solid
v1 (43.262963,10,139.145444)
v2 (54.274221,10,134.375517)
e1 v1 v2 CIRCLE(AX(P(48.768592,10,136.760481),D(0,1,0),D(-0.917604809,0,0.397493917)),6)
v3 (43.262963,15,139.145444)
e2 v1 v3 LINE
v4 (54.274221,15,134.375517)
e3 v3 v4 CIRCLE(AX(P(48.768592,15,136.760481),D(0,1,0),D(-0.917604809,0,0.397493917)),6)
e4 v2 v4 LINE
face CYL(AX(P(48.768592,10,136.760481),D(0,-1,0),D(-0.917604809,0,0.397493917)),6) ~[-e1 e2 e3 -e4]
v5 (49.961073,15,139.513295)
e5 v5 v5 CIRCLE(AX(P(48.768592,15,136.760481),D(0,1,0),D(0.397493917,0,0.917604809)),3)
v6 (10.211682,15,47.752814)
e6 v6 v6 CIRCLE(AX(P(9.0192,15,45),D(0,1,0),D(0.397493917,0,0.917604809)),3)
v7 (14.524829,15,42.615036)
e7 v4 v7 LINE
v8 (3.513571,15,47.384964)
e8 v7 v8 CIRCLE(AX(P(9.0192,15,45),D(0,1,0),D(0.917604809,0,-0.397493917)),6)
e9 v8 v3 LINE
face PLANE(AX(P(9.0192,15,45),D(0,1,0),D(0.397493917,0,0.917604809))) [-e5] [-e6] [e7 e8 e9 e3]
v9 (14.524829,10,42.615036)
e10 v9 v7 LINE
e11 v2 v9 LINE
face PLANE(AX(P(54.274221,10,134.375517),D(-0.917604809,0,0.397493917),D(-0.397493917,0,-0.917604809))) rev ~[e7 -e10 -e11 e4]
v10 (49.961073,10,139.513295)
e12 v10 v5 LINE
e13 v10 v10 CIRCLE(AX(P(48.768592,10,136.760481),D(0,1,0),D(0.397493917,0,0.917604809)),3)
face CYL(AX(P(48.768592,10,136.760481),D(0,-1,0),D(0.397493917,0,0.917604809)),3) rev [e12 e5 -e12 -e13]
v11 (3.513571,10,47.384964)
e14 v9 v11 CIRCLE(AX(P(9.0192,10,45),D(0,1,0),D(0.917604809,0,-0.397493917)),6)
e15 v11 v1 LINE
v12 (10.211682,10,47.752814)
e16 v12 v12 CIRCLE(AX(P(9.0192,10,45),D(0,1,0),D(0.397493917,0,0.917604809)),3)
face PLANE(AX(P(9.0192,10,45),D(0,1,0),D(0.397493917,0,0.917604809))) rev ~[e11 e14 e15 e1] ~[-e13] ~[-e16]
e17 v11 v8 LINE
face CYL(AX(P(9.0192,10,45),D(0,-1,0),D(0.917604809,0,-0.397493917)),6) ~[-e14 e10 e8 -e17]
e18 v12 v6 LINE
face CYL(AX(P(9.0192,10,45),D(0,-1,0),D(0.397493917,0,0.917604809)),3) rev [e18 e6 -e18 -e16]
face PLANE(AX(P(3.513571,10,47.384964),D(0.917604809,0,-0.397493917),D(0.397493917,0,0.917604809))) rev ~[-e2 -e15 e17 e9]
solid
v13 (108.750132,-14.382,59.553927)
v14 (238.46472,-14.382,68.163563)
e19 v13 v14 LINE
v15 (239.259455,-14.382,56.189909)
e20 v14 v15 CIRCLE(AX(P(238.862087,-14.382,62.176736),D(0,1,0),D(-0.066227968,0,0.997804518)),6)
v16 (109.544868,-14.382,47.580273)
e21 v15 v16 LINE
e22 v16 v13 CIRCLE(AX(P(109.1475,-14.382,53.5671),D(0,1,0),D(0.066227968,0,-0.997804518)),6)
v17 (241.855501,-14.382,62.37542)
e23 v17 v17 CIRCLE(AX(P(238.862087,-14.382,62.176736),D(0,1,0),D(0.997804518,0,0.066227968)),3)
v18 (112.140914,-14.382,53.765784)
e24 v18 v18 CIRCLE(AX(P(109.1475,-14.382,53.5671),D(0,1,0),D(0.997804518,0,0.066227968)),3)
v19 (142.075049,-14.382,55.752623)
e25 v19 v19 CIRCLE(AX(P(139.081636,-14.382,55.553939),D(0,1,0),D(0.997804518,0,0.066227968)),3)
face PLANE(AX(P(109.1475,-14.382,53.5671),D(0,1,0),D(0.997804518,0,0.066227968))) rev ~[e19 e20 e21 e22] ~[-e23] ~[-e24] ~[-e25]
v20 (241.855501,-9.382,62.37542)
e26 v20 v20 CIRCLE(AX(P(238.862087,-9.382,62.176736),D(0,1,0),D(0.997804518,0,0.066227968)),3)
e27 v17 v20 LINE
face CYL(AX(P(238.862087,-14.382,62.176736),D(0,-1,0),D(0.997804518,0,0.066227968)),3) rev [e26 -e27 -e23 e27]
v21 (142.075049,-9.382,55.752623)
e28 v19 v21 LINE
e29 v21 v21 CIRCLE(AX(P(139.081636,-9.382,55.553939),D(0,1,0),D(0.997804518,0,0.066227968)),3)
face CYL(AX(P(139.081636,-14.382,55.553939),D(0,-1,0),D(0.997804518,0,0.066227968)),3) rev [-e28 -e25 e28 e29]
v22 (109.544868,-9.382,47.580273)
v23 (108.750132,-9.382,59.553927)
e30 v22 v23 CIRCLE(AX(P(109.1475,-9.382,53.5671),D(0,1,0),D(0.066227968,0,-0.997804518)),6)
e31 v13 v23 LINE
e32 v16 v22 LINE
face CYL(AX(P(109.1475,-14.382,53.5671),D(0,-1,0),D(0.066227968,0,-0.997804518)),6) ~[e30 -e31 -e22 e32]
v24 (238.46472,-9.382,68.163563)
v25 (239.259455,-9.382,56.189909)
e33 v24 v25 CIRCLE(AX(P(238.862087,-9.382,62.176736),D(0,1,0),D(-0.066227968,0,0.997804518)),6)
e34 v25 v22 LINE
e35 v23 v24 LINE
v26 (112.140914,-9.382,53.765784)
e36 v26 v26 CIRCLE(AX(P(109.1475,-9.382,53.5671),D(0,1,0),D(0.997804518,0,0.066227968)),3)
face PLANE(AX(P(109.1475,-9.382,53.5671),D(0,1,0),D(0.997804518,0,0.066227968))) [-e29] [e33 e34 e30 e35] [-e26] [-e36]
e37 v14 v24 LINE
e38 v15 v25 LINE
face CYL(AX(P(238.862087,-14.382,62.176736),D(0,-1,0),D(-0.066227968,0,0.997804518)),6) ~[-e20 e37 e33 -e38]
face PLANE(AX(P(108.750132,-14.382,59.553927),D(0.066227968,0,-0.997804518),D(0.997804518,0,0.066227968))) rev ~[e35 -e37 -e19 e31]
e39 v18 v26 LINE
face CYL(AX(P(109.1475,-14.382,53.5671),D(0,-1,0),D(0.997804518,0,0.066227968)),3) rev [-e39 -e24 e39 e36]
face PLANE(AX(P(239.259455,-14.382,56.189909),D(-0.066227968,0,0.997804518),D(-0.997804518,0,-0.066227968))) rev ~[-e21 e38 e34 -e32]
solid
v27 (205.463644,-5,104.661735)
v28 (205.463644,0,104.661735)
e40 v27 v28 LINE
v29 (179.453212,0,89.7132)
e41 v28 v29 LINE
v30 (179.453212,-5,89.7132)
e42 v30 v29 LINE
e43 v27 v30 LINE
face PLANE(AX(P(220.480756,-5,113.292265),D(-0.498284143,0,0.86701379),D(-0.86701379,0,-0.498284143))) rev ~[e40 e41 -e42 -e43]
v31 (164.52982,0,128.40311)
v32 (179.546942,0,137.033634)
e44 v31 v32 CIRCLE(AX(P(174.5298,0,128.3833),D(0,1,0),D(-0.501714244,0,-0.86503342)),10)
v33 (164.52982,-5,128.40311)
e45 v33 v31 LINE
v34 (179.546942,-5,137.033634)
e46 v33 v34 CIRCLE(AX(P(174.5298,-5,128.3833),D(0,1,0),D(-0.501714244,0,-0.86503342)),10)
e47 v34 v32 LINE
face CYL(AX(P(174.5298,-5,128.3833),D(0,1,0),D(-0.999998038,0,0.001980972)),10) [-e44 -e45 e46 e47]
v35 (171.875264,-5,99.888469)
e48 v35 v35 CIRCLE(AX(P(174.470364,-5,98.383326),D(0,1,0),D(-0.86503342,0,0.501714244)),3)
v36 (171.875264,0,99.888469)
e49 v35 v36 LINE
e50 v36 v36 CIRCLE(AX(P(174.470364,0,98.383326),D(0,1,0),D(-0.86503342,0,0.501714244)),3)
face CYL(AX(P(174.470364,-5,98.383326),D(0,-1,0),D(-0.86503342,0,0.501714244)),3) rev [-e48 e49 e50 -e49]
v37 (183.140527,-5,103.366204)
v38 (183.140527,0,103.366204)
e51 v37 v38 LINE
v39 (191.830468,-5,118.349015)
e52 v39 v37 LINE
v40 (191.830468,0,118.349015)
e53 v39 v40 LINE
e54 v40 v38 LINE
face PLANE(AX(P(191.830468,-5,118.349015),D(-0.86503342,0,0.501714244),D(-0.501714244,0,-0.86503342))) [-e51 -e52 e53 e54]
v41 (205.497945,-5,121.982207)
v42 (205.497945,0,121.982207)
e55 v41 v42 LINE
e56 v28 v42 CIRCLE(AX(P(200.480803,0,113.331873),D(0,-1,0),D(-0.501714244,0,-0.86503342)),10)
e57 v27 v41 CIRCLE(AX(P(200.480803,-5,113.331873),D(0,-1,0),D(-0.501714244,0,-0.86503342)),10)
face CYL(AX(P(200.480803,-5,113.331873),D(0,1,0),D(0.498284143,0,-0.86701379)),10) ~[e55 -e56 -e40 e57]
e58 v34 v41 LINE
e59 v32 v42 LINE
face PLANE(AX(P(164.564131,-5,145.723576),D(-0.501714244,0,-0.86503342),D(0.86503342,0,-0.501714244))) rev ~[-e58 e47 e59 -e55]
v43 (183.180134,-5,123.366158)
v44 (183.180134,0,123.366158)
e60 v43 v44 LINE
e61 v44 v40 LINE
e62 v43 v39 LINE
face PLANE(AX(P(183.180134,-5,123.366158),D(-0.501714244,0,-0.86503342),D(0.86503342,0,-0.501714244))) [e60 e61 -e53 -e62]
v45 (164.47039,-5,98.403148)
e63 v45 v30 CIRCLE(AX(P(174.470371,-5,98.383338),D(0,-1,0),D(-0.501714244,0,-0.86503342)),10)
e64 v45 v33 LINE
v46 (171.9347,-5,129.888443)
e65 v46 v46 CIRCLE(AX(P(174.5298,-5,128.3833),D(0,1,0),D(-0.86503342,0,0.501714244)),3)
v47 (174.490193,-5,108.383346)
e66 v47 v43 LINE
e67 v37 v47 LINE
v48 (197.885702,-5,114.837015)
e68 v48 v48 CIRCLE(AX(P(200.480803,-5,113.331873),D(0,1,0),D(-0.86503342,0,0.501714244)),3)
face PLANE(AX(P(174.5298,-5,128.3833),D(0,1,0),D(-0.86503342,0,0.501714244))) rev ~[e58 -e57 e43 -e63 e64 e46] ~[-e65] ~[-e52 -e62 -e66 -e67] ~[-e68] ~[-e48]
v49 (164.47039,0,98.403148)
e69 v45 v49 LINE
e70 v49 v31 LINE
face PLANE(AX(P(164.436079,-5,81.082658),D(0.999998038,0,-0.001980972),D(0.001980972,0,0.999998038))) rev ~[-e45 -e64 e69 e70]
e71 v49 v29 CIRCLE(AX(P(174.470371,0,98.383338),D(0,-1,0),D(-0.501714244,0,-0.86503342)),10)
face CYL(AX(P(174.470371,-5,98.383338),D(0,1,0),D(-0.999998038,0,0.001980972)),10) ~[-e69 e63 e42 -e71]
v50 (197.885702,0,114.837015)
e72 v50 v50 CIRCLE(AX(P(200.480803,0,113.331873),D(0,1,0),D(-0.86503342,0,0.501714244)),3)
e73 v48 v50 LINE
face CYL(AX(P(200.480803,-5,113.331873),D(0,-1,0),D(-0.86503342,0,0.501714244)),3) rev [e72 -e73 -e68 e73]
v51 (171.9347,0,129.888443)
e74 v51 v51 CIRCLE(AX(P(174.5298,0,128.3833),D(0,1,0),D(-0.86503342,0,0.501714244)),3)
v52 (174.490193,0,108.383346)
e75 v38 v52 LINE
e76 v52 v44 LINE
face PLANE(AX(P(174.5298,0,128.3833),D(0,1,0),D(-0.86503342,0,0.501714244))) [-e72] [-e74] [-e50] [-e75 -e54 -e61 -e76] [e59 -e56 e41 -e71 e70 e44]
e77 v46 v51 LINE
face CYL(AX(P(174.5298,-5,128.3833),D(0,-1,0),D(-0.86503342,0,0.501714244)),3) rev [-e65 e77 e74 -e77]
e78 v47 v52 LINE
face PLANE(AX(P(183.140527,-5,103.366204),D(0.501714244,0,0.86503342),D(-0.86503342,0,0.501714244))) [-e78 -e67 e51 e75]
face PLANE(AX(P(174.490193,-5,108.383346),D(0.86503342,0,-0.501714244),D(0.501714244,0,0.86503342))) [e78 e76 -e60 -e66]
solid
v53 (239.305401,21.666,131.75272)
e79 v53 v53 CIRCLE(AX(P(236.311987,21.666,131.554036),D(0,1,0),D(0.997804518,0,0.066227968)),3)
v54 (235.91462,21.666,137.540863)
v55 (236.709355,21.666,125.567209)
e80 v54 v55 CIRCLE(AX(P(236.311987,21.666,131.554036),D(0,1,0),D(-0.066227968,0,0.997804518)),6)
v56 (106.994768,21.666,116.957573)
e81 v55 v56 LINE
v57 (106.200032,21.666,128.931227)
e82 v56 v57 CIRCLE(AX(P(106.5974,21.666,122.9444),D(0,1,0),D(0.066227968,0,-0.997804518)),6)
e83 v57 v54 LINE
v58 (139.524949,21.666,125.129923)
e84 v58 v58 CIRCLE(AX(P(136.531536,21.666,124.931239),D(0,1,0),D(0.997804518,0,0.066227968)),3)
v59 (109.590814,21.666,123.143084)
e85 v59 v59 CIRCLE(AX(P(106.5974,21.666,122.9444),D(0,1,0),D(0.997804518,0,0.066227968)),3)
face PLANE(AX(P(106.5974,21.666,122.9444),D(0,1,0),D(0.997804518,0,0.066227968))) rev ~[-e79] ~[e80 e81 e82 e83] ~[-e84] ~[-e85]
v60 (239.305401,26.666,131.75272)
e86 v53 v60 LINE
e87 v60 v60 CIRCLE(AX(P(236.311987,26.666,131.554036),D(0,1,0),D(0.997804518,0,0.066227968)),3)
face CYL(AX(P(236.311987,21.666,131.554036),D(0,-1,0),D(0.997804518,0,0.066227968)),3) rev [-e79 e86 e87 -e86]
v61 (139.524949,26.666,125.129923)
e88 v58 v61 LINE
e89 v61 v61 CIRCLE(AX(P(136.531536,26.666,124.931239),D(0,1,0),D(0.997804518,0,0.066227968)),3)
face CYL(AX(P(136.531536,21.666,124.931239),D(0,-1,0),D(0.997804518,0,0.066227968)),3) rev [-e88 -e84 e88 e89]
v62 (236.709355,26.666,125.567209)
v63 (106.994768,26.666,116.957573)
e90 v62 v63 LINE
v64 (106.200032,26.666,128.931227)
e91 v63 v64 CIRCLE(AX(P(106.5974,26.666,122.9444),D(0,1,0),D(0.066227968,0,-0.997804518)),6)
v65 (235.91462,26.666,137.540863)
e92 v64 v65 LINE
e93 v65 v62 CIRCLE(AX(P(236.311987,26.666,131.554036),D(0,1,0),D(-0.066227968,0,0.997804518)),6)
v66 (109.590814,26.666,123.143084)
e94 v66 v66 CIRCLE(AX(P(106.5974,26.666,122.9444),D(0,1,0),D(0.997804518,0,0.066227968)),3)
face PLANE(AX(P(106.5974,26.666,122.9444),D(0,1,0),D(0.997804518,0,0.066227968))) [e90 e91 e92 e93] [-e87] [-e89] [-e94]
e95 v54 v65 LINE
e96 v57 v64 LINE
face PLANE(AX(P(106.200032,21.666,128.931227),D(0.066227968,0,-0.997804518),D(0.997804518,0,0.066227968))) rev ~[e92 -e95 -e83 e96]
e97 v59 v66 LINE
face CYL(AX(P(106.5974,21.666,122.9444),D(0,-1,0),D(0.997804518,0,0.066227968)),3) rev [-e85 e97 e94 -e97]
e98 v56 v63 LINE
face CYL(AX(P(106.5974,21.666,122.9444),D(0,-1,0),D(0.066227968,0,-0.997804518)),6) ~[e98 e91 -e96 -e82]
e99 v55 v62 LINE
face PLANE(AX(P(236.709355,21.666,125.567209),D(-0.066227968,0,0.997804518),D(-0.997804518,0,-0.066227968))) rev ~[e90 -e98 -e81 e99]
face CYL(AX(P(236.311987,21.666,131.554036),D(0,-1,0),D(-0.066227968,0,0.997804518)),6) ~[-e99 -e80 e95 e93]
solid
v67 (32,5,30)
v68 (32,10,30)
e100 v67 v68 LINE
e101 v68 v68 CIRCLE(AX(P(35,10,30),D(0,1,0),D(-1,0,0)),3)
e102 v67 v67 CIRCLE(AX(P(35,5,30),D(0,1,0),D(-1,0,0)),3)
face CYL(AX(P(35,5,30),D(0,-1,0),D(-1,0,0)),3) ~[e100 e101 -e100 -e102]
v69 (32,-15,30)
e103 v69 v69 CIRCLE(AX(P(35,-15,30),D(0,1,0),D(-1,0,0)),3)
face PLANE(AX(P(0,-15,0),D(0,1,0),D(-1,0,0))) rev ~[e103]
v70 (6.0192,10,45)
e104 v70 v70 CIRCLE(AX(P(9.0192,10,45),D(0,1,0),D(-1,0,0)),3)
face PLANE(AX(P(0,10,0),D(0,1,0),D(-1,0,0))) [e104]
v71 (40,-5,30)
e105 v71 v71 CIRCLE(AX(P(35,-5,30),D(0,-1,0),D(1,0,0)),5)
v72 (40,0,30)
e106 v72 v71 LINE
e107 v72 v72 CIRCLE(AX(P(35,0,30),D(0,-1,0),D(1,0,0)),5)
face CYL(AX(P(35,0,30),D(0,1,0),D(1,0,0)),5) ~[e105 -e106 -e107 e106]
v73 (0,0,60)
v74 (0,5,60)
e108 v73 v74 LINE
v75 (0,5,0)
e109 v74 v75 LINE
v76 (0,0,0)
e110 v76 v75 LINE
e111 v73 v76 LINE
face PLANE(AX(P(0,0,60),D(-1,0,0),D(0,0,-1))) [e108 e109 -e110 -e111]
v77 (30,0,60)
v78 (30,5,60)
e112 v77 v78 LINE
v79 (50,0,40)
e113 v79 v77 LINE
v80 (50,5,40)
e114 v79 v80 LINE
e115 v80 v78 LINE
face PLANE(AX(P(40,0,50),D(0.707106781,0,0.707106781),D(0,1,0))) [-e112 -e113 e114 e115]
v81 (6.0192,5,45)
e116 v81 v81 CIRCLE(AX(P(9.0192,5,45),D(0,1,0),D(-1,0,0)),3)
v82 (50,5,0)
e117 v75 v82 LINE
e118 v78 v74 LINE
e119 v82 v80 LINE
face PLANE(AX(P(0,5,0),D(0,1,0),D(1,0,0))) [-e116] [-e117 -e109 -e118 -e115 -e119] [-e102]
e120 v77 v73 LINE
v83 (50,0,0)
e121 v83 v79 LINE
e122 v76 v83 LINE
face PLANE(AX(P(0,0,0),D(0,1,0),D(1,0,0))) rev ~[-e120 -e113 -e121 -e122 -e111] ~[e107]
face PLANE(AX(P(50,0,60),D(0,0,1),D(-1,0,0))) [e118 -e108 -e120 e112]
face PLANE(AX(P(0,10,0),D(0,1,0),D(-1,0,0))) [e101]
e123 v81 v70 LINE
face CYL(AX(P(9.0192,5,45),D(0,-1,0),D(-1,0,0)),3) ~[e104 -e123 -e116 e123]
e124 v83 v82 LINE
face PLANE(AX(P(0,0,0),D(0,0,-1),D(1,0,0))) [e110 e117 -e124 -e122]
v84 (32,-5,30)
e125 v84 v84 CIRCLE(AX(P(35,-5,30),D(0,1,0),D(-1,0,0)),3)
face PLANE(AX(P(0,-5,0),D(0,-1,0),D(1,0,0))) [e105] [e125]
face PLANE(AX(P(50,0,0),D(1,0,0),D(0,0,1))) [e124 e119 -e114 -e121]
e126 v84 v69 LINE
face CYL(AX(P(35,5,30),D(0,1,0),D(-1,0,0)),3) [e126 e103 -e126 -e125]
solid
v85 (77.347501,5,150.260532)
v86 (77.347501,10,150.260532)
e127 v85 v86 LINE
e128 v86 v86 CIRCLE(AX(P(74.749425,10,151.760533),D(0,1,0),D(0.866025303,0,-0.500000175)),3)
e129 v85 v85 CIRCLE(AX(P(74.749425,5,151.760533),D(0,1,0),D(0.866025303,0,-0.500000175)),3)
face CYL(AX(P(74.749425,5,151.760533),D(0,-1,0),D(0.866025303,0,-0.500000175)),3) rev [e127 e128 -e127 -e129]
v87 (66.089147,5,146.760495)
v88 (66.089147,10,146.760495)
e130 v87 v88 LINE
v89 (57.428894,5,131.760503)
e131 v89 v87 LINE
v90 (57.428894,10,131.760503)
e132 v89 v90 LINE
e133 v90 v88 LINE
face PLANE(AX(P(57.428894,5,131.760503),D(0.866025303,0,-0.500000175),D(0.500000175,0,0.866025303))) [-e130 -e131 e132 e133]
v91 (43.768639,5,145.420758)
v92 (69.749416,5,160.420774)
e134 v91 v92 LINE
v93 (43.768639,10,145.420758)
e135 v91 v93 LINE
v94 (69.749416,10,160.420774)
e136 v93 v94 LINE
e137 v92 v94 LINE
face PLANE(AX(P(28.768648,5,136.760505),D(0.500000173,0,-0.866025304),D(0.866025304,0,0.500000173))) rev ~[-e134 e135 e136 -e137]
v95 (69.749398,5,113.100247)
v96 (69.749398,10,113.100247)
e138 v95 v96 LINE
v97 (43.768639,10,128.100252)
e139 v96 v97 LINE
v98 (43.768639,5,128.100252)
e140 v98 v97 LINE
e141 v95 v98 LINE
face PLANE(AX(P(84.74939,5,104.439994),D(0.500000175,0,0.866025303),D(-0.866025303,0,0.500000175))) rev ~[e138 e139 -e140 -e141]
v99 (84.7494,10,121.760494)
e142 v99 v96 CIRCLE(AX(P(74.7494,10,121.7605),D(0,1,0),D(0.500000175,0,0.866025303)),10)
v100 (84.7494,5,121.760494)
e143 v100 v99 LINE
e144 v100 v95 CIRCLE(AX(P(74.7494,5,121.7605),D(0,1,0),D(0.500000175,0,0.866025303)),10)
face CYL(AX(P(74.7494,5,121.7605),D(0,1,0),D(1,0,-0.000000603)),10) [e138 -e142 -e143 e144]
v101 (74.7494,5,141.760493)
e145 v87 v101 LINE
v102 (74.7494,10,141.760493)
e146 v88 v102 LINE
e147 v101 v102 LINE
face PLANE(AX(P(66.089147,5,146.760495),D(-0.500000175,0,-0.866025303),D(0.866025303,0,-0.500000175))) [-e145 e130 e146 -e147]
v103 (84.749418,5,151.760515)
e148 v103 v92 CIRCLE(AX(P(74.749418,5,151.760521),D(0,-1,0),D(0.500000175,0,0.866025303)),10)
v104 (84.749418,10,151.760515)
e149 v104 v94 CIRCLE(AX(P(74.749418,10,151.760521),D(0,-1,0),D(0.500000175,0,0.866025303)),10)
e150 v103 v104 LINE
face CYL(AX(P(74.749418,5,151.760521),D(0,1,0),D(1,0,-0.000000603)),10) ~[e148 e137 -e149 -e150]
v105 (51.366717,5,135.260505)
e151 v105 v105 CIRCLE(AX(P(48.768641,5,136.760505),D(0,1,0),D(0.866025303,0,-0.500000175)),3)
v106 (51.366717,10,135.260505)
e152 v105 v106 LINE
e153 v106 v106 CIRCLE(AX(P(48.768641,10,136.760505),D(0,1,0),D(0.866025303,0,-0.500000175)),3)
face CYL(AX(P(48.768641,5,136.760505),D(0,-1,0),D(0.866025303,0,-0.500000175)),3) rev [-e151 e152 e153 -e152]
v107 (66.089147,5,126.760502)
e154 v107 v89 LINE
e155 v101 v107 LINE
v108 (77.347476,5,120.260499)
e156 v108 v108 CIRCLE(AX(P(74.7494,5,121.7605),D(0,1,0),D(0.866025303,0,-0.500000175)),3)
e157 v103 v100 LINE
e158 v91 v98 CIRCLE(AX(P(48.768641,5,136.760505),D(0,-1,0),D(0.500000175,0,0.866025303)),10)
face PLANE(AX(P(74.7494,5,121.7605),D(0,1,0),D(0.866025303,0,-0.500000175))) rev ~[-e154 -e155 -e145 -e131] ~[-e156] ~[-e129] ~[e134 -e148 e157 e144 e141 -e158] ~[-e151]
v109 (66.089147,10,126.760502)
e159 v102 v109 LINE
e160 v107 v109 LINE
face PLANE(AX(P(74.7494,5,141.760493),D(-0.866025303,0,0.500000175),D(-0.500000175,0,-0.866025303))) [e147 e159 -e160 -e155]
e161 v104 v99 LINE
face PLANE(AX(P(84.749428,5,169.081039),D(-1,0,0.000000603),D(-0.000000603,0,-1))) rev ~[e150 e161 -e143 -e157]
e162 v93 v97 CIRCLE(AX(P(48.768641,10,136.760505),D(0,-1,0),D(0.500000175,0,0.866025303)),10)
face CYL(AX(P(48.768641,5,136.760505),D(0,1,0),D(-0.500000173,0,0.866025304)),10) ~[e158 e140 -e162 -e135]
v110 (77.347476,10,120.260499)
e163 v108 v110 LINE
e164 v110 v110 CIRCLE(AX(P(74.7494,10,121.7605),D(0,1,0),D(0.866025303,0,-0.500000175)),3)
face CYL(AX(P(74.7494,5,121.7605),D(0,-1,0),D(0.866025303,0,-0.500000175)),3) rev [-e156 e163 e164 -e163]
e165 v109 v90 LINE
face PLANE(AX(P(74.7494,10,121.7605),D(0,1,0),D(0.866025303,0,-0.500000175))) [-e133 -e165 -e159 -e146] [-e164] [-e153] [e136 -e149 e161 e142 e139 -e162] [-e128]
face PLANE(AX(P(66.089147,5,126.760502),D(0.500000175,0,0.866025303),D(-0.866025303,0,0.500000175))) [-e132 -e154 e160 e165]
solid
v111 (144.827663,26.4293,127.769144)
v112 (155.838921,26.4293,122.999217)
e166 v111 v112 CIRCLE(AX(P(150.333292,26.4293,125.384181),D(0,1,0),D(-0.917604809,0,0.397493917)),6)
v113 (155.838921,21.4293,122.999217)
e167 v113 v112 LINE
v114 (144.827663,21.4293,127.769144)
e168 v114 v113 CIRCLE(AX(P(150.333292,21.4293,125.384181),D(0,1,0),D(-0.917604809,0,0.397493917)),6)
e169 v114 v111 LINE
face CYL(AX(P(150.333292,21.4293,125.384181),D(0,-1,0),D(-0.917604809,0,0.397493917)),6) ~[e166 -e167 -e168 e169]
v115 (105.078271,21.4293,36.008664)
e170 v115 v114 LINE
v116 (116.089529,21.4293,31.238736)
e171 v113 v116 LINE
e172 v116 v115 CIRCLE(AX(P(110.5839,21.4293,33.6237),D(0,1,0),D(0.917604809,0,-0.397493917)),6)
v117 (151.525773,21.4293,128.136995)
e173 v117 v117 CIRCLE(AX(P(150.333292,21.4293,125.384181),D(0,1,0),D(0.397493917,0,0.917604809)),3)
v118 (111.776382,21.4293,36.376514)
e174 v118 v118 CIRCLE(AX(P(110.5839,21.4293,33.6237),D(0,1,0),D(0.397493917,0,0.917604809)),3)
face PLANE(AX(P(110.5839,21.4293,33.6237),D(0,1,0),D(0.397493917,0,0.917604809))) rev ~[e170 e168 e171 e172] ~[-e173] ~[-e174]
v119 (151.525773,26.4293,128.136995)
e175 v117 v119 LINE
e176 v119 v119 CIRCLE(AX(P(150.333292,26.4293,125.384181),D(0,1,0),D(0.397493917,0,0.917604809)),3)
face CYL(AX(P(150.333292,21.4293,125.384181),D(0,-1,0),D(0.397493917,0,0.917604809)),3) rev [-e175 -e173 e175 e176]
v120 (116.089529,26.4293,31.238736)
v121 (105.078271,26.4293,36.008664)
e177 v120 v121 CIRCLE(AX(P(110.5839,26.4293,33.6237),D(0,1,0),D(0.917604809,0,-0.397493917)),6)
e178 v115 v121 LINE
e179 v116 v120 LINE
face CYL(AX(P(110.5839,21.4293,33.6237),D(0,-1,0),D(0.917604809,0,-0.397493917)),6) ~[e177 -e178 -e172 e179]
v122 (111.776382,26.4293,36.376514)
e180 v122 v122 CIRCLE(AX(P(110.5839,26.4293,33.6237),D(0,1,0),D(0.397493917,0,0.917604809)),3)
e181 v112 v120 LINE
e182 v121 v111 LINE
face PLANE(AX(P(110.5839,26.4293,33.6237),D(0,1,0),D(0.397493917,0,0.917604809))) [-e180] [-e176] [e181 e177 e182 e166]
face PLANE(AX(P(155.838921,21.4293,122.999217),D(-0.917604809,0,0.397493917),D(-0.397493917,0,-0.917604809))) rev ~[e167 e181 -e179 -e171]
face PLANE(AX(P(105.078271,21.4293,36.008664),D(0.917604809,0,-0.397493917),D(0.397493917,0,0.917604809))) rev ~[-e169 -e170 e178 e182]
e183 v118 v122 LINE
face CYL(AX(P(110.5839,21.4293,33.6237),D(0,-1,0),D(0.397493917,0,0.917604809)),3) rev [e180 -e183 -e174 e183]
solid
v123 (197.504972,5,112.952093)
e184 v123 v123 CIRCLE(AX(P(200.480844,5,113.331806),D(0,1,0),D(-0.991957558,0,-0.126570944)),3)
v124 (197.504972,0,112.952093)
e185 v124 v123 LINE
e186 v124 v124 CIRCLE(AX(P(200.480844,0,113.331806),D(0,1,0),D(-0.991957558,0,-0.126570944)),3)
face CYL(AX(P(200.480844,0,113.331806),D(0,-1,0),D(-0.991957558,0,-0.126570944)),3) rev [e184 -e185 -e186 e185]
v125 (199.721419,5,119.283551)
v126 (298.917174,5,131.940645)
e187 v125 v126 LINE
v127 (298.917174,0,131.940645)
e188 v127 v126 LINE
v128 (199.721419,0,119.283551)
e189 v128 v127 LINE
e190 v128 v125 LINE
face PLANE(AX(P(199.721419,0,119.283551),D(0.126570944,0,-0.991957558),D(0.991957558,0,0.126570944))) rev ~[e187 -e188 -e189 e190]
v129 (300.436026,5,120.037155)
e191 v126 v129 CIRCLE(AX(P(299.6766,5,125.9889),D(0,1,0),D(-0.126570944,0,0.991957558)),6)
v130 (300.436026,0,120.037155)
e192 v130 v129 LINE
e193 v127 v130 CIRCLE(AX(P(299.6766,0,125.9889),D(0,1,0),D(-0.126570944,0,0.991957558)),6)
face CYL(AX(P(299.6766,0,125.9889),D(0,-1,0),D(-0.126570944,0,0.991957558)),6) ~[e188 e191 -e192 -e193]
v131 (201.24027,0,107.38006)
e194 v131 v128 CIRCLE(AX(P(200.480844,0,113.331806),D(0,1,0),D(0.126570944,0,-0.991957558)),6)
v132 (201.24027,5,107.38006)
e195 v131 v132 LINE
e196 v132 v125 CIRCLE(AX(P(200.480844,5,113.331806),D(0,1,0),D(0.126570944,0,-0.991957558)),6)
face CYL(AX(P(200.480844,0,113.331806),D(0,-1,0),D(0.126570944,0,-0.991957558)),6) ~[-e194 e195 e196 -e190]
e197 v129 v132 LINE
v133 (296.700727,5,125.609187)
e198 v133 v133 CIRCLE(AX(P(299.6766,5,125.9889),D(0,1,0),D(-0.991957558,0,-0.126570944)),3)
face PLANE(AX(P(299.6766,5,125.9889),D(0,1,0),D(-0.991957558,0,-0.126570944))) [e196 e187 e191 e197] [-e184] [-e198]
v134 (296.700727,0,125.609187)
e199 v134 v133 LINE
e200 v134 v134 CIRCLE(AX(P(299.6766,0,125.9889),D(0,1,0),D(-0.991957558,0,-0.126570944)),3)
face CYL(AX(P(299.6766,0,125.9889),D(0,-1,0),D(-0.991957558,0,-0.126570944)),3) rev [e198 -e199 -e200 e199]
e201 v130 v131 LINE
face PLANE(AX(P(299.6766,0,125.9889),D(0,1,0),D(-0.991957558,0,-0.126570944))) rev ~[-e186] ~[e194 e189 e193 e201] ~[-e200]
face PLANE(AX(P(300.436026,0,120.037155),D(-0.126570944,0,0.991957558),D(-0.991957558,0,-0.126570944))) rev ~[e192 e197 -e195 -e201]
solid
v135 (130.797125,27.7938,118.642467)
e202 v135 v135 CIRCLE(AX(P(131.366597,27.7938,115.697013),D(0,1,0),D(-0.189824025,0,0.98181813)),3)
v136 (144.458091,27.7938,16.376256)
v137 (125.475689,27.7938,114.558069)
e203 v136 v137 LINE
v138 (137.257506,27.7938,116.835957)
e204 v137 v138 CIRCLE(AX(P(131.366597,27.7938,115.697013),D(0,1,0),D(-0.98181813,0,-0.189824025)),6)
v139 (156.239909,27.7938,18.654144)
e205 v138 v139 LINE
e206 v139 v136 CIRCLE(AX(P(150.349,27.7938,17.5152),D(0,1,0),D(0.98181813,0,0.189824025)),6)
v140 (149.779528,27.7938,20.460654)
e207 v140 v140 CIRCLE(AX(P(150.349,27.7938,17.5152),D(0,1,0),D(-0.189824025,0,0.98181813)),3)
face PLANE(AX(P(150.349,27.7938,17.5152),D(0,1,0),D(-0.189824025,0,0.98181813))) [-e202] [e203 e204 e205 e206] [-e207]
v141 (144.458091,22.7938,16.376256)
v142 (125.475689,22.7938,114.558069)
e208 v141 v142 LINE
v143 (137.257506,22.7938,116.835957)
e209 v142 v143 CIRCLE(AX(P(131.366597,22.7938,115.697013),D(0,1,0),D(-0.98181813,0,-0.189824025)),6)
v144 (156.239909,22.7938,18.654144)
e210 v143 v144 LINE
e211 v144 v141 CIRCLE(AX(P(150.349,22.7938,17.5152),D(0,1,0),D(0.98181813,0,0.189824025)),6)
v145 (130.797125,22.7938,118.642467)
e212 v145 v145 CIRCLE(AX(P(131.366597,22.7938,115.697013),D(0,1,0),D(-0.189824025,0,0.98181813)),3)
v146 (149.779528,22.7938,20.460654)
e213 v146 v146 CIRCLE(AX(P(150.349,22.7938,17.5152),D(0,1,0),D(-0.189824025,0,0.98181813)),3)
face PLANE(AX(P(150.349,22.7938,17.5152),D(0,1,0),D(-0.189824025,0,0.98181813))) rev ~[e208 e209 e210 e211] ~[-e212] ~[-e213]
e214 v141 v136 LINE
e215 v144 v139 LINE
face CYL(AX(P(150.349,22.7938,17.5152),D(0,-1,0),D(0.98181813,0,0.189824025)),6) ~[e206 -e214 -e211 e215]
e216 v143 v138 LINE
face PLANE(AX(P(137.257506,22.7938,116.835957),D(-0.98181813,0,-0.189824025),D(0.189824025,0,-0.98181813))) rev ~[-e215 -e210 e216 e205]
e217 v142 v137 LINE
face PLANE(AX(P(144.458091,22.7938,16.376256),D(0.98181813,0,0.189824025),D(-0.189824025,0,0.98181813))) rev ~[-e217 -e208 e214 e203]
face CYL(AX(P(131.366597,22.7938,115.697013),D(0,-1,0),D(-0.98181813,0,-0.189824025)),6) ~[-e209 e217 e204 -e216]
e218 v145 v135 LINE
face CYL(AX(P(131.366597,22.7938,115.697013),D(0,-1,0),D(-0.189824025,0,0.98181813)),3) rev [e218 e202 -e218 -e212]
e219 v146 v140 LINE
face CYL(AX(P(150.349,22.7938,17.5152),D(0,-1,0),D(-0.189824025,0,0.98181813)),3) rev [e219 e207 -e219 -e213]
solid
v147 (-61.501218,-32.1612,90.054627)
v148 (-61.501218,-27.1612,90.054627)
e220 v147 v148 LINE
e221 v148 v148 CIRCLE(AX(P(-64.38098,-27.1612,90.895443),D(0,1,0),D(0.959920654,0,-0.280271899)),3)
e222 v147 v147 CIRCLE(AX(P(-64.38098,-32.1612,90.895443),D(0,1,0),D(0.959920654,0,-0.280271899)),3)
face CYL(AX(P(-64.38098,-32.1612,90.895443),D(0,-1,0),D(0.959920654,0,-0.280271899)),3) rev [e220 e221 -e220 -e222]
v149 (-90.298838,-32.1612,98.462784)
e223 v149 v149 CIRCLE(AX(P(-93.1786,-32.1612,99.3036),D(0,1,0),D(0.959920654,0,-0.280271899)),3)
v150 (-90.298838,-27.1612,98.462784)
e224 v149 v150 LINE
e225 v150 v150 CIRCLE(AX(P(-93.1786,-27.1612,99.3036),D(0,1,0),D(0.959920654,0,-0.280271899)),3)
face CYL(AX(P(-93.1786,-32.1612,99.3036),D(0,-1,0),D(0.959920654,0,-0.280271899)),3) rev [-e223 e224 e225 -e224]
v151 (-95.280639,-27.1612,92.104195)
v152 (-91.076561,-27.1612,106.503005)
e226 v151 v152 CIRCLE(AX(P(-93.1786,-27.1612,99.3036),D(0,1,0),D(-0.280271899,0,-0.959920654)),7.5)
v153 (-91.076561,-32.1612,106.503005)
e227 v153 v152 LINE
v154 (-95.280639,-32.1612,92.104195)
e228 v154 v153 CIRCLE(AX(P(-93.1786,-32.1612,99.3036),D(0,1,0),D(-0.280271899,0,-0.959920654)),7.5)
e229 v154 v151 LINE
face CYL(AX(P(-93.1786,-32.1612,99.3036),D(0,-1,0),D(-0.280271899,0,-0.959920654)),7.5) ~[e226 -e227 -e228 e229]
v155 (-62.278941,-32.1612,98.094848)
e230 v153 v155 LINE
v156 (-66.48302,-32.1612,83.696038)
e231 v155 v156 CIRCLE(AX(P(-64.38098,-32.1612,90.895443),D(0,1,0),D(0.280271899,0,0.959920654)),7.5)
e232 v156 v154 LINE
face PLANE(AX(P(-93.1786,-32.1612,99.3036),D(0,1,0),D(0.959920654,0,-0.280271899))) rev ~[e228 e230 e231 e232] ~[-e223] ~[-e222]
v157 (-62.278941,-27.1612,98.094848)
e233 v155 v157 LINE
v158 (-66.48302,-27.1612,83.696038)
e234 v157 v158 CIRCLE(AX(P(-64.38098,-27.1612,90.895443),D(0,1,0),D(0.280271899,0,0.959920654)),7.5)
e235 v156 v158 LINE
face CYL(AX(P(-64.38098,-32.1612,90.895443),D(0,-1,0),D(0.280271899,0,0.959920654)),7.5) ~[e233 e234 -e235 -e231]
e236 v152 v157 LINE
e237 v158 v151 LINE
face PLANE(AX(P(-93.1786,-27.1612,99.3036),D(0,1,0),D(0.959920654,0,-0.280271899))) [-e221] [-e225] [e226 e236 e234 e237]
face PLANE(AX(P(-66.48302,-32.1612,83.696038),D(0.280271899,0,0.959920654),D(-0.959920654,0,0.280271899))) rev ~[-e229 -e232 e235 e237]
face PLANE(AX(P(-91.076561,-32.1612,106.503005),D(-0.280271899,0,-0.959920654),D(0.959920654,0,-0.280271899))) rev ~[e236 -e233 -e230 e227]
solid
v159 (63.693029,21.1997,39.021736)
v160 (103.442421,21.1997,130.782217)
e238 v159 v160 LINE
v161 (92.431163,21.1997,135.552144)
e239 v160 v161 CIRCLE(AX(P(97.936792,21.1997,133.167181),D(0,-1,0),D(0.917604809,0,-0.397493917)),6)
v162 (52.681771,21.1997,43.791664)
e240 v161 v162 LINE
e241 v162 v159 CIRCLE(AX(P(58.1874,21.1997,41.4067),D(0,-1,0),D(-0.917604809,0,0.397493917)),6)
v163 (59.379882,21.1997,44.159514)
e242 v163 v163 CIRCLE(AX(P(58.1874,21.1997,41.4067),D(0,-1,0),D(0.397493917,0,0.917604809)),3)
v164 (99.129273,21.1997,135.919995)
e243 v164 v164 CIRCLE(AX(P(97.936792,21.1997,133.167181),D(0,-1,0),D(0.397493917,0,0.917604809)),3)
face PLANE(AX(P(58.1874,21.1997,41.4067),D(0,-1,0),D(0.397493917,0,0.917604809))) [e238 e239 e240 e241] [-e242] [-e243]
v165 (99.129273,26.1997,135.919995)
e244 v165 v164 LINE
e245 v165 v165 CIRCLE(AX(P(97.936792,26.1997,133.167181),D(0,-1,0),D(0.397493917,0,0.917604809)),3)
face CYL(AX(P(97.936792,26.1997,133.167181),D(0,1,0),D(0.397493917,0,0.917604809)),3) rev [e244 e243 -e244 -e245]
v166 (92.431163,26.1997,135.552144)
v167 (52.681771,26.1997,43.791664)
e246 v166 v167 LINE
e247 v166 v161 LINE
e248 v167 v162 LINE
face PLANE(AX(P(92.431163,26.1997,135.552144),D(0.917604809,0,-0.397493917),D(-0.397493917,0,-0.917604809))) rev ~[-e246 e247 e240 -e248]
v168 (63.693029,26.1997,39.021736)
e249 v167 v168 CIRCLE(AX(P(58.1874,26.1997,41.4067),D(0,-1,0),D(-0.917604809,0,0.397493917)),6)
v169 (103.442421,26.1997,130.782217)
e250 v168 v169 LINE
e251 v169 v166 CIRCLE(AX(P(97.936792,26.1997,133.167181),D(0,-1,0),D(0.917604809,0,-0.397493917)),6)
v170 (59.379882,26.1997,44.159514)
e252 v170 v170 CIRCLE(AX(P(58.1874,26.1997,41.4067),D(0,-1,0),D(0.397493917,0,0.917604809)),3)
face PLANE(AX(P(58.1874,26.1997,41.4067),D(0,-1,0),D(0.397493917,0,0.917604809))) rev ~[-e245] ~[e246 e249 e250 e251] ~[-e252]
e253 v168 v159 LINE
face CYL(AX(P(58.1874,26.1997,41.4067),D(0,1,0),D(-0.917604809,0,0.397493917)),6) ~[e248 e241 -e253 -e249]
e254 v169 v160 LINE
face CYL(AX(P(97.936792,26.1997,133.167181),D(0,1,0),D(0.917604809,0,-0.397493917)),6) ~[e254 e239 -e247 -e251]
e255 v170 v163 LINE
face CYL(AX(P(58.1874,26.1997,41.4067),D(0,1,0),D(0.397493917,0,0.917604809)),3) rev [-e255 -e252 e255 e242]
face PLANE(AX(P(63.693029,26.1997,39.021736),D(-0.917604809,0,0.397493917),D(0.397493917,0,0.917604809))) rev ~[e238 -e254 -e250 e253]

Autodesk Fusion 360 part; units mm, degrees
sketch "Sketch1" plane through (0, 0, 0) normal (0, 1, 0) x (1, 0, 0) in component "Component"
  line L0 (0, 0) -> (50, 0)
  line L1 (50, 0) -> (50, -60)
  line L2 (50, -60) -> (0, -60)
  line L3 (0, -60) -> (0, 0)
  dimension "d1" = 50
  dimension "d2" = 60
extrude "Extrude1" add sketch "Sketch1" along normal blind 5 makes body 1 in component "Component"
sketch "Sketch1 (2)" plane through (0, 0, 0) normal (0, 1, 0) x (1, 0, 0) in component "Component'"
  line L0 (0, -6) -> (100, -6)
  arc A0 (100, -6) -> (100, 6) centre (100, 0) ccw
  line L1 (100, 6) -> (0, 6)
  arc A1 (0, 6) -> (0, -6) centre (0, 0) ccw
  line L2 (0, 0) -> (100, 0) construction
  circle A2 centre (0, 0) radius 3
  circle A3 centre (100, 0) radius 3
  dimension "d8" = 12
  dimension "d9" = 6
  dimension "d10" = 6
  dimension "d13" = 100
extrude "Extrude1'" add sketch "Sketch1 (2)" along normal blind 5 separate body makes body 2 in component "Component'"
sketch "Sketch1 (3)" plane through (0, 0, 0) normal (0, 1, 0) x (1, 0, 0) in component "Component''"
  line L0 (0, -6) -> (130, -6)
  arc A0 (130, -6) -> (130, 6) centre (130, 0) ccw
  line L1 (130, 6) -> (0, 6)
  arc A1 (0, 6) -> (0, -6) centre (0, 0) ccw
  line L2 (0, 0) -> (130, 0) construction
  circle A2 centre (0, 0) radius 3
  circle A3 centre (30, 0) radius 3
  circle A4 centre (130, 0) radius 3
  dimension "d14" = 12
  dimension "d15" = 6
  dimension "d16" = 6
  dimension "d17" = 6
  dimension "d18" = 30
  dimension "d19" = 100
extrude "Extrude1''" add sketch "Sketch1 (3)" along normal blind 5 separate body makes body 3 in component "Component''"
sketch "Sketch1 (4)" plane through (0, 0, 0) normal (0, 1, 0) x (1, 0, 0) in component "Component'''"
  line L0 (0, -7.5) -> (30, -7.5)
  arc A0 (30, -7.5) -> (30, 7.5) centre (30, 0) ccw
  line L1 (30, 7.5) -> (0, 7.5)
  arc A1 (0, 7.5) -> (0, -7.5) centre (0, 0) ccw
  line L2 (0, 0) -> (30, 0) construction
  circle A2 centre (0, 0) radius 3
  circle A3 centre (30, 0) radius 3
  dimension "d8_1" = 15
  dimension "d9_1" = 6
  dimension "d10_1" = 6
  dimension "d13_1" = 30
extrude "Extrude1'''" add sketch "Sketch1 (4)" along normal blind 5 separate body makes body 4 in component "Component'''"
sketch "Sketch1 (5)" plane through (0, 0, 0) normal (0, 1, 0) x (1, 0, 0) in component "Component''''"
  circle A0 centre (0, 0) radius 3
  line L0 (0, 0) -> (-30, 0) construction
  line L1 (-30, 0) -> (-15, -25.9808) construction
  line L2 (-15, -25.9808) -> (0, 0) construction
  line L3 (17.3205, 10) -> (-47.3205, 10)
  line L4 (-47.3205, 10) -> (-15, -45.9808)
  line L5 (-15, -45.9808) -> (17.3205, 10)
  circle A1 centre (-15, -25.9808) radius 3
  circle A2 centre (-30, 0) radius 3
  line L6 (-20, -17.3205) -> (-10, -17.3205)
  line L7 (-10, -17.3205) -> (-10, 0)
  line L8 (-10, 0) -> (-20, 0)
  line L9 (-20, 0) -> (-20, -17.3205)
  dimension "d126" = 30
  dimension "d127" = 10
  dimension "d128" = 6
  dimension "d375" = 10
extrude "Extrude1''''" add sketch "Sketch1 (5)" along normal blind 5 separate body makes body 5 in component "Component''''"
fillet "Fillet1" radius 10 3 edges at (-15, 2.5, 45.9808) (17.3205, 2.5, -10) (-47.3205, 2.5, -10) on bodies 5 in component "Component''''"
sketch "Sketch2" plane through (0, 5, 0) normal (0, 1, 0) x (-1, 0, 0) in component "Component"
  line L0 (0, 60) -> (-50, 60)
  line L1 (-50, 60) -> (-50, 0)
  line L2 (-50, 0) -> (0, 0)
  line L3 (0, 0) -> (0, 60)
  circle A0 centre (-35, 30) radius 3
  dimension "d202" = 6
  dimension "d203" = 15
  dimension "d204" = 30
extrude "Extrude2" add sketch "Sketch2" along normal blind 5 and the other way blind 20 contours A0 bodies 1 in component "Component"
sketch "Sketch3" plane through (0, 5, 0) normal (0, 1, 0) x (-1, 0, 0) in component "Component"
  circle A0 centre (-35, 30) radius 3
  line L0 (0, 60) -> (-50, 60)
  line L1 (-50, 60) -> (-50, 0)
  line L2 (-50, 0) -> (0, 0)
  line L3 (0, 0) -> (0, 60)
  circle A1 centre (-9.0192, 45) radius 3
  line L4 (-35, 30) -> (-9.0192, 45) construction
  line L5 (-35, 30) -> (-5, 30) construction
  dimension "d216" = 6
  dimension "d217" = 30
  dimension "d218" = 30
chamfer "Chamfer2" distance 20 angle 45 1 edges at (50, 2.5, 60) on bodies 1 in component "Component"
extrude "Extrude4" add sketch "Sketch3" along normal blind 5 contours A1 bodies 1 in component "Component"
sketch "Sketch4" plane through (0, 0, 0) normal (0, -1, 0) x (1, 0, 0) in component "Component"
  line L0 (50, 40) -> (30, 60)
  line L1 (30, 60) -> (0, 60)
  line L2 (0, 60) -> (0, 0)
  line L3 (0, 0) -> (50, 0)
  line L4 (50, 0) -> (50, 40)
  circle A0 centre (35, 30) radius 3
  circle A1 centre (35, 30) radius 5
  dimension "d528" = 10
extrude "Extrude5" add sketch "Sketch4" along normal blind 5 contours A1 bodies 1 in component "Component"
component "Component" placed x (1, 0, 0) y (0, 1, 0) z (0, 0, 1) at (0, 0, 0)
component "Component'" placed x (0.397494, 0, 0.917605) y (0, -1, 0) z (0.917605, 0, -0.397494) at (58.1874, 26.1997, 41.4067)
component "Component''" placed x (0.997805, 0, 0.066228) y (0, 1, 0) z (-0.066228, 0, 0.997805) at (109.1475, -14.382, 53.5671)
component "Component'''" placed x (0.959921, 0, -0.280272) y (0, 1, 0) z (0.280272, 0, 0.959921) at (-93.1786, -32.1612, 99.3036)
component "Component'" placed x (-0.189824, 0, 0.981818) y (0, 1, 0) z (-0.981818, 0, -0.189824) at (150.349, 22.7938, 17.5152)
component "Component''''" placed x (-0.865033, 0, 0.501714) y (0, 1, 0) z (-0.501714, 0, -0.865033) at (174.5298, -5, 128.3833)
component "Component''''" placed x (0.866025, 0, -0.5) y (0, 1, 0) z (0.5, 0, 0.866025) at (74.7494, 5, 121.7605)
component "Component'" placed x (0.397494, 0, 0.917605) y (0, 1, 0) z (-0.917605, 0, 0.397494) at (9.0192, 10, 45)
component "Component'" placed x (-0.991958, 0, -0.126571) y (0, 1, 0) z (0.126571, 0, -0.991958) at (299.6766, 0, 125.9889)
component "Component'" placed x (0.397494, 0, 0.917605) y (0, 1, 0) z (-0.917605, 0, 0.397494) at (110.5839, 21.4293, 33.6237)
component "Component''" placed x (0.997805, 0, 0.066228) y (0, 1, 0) z (-0.066228, 0, 0.997805) at (106.5974, 21.666, 122.9444)
